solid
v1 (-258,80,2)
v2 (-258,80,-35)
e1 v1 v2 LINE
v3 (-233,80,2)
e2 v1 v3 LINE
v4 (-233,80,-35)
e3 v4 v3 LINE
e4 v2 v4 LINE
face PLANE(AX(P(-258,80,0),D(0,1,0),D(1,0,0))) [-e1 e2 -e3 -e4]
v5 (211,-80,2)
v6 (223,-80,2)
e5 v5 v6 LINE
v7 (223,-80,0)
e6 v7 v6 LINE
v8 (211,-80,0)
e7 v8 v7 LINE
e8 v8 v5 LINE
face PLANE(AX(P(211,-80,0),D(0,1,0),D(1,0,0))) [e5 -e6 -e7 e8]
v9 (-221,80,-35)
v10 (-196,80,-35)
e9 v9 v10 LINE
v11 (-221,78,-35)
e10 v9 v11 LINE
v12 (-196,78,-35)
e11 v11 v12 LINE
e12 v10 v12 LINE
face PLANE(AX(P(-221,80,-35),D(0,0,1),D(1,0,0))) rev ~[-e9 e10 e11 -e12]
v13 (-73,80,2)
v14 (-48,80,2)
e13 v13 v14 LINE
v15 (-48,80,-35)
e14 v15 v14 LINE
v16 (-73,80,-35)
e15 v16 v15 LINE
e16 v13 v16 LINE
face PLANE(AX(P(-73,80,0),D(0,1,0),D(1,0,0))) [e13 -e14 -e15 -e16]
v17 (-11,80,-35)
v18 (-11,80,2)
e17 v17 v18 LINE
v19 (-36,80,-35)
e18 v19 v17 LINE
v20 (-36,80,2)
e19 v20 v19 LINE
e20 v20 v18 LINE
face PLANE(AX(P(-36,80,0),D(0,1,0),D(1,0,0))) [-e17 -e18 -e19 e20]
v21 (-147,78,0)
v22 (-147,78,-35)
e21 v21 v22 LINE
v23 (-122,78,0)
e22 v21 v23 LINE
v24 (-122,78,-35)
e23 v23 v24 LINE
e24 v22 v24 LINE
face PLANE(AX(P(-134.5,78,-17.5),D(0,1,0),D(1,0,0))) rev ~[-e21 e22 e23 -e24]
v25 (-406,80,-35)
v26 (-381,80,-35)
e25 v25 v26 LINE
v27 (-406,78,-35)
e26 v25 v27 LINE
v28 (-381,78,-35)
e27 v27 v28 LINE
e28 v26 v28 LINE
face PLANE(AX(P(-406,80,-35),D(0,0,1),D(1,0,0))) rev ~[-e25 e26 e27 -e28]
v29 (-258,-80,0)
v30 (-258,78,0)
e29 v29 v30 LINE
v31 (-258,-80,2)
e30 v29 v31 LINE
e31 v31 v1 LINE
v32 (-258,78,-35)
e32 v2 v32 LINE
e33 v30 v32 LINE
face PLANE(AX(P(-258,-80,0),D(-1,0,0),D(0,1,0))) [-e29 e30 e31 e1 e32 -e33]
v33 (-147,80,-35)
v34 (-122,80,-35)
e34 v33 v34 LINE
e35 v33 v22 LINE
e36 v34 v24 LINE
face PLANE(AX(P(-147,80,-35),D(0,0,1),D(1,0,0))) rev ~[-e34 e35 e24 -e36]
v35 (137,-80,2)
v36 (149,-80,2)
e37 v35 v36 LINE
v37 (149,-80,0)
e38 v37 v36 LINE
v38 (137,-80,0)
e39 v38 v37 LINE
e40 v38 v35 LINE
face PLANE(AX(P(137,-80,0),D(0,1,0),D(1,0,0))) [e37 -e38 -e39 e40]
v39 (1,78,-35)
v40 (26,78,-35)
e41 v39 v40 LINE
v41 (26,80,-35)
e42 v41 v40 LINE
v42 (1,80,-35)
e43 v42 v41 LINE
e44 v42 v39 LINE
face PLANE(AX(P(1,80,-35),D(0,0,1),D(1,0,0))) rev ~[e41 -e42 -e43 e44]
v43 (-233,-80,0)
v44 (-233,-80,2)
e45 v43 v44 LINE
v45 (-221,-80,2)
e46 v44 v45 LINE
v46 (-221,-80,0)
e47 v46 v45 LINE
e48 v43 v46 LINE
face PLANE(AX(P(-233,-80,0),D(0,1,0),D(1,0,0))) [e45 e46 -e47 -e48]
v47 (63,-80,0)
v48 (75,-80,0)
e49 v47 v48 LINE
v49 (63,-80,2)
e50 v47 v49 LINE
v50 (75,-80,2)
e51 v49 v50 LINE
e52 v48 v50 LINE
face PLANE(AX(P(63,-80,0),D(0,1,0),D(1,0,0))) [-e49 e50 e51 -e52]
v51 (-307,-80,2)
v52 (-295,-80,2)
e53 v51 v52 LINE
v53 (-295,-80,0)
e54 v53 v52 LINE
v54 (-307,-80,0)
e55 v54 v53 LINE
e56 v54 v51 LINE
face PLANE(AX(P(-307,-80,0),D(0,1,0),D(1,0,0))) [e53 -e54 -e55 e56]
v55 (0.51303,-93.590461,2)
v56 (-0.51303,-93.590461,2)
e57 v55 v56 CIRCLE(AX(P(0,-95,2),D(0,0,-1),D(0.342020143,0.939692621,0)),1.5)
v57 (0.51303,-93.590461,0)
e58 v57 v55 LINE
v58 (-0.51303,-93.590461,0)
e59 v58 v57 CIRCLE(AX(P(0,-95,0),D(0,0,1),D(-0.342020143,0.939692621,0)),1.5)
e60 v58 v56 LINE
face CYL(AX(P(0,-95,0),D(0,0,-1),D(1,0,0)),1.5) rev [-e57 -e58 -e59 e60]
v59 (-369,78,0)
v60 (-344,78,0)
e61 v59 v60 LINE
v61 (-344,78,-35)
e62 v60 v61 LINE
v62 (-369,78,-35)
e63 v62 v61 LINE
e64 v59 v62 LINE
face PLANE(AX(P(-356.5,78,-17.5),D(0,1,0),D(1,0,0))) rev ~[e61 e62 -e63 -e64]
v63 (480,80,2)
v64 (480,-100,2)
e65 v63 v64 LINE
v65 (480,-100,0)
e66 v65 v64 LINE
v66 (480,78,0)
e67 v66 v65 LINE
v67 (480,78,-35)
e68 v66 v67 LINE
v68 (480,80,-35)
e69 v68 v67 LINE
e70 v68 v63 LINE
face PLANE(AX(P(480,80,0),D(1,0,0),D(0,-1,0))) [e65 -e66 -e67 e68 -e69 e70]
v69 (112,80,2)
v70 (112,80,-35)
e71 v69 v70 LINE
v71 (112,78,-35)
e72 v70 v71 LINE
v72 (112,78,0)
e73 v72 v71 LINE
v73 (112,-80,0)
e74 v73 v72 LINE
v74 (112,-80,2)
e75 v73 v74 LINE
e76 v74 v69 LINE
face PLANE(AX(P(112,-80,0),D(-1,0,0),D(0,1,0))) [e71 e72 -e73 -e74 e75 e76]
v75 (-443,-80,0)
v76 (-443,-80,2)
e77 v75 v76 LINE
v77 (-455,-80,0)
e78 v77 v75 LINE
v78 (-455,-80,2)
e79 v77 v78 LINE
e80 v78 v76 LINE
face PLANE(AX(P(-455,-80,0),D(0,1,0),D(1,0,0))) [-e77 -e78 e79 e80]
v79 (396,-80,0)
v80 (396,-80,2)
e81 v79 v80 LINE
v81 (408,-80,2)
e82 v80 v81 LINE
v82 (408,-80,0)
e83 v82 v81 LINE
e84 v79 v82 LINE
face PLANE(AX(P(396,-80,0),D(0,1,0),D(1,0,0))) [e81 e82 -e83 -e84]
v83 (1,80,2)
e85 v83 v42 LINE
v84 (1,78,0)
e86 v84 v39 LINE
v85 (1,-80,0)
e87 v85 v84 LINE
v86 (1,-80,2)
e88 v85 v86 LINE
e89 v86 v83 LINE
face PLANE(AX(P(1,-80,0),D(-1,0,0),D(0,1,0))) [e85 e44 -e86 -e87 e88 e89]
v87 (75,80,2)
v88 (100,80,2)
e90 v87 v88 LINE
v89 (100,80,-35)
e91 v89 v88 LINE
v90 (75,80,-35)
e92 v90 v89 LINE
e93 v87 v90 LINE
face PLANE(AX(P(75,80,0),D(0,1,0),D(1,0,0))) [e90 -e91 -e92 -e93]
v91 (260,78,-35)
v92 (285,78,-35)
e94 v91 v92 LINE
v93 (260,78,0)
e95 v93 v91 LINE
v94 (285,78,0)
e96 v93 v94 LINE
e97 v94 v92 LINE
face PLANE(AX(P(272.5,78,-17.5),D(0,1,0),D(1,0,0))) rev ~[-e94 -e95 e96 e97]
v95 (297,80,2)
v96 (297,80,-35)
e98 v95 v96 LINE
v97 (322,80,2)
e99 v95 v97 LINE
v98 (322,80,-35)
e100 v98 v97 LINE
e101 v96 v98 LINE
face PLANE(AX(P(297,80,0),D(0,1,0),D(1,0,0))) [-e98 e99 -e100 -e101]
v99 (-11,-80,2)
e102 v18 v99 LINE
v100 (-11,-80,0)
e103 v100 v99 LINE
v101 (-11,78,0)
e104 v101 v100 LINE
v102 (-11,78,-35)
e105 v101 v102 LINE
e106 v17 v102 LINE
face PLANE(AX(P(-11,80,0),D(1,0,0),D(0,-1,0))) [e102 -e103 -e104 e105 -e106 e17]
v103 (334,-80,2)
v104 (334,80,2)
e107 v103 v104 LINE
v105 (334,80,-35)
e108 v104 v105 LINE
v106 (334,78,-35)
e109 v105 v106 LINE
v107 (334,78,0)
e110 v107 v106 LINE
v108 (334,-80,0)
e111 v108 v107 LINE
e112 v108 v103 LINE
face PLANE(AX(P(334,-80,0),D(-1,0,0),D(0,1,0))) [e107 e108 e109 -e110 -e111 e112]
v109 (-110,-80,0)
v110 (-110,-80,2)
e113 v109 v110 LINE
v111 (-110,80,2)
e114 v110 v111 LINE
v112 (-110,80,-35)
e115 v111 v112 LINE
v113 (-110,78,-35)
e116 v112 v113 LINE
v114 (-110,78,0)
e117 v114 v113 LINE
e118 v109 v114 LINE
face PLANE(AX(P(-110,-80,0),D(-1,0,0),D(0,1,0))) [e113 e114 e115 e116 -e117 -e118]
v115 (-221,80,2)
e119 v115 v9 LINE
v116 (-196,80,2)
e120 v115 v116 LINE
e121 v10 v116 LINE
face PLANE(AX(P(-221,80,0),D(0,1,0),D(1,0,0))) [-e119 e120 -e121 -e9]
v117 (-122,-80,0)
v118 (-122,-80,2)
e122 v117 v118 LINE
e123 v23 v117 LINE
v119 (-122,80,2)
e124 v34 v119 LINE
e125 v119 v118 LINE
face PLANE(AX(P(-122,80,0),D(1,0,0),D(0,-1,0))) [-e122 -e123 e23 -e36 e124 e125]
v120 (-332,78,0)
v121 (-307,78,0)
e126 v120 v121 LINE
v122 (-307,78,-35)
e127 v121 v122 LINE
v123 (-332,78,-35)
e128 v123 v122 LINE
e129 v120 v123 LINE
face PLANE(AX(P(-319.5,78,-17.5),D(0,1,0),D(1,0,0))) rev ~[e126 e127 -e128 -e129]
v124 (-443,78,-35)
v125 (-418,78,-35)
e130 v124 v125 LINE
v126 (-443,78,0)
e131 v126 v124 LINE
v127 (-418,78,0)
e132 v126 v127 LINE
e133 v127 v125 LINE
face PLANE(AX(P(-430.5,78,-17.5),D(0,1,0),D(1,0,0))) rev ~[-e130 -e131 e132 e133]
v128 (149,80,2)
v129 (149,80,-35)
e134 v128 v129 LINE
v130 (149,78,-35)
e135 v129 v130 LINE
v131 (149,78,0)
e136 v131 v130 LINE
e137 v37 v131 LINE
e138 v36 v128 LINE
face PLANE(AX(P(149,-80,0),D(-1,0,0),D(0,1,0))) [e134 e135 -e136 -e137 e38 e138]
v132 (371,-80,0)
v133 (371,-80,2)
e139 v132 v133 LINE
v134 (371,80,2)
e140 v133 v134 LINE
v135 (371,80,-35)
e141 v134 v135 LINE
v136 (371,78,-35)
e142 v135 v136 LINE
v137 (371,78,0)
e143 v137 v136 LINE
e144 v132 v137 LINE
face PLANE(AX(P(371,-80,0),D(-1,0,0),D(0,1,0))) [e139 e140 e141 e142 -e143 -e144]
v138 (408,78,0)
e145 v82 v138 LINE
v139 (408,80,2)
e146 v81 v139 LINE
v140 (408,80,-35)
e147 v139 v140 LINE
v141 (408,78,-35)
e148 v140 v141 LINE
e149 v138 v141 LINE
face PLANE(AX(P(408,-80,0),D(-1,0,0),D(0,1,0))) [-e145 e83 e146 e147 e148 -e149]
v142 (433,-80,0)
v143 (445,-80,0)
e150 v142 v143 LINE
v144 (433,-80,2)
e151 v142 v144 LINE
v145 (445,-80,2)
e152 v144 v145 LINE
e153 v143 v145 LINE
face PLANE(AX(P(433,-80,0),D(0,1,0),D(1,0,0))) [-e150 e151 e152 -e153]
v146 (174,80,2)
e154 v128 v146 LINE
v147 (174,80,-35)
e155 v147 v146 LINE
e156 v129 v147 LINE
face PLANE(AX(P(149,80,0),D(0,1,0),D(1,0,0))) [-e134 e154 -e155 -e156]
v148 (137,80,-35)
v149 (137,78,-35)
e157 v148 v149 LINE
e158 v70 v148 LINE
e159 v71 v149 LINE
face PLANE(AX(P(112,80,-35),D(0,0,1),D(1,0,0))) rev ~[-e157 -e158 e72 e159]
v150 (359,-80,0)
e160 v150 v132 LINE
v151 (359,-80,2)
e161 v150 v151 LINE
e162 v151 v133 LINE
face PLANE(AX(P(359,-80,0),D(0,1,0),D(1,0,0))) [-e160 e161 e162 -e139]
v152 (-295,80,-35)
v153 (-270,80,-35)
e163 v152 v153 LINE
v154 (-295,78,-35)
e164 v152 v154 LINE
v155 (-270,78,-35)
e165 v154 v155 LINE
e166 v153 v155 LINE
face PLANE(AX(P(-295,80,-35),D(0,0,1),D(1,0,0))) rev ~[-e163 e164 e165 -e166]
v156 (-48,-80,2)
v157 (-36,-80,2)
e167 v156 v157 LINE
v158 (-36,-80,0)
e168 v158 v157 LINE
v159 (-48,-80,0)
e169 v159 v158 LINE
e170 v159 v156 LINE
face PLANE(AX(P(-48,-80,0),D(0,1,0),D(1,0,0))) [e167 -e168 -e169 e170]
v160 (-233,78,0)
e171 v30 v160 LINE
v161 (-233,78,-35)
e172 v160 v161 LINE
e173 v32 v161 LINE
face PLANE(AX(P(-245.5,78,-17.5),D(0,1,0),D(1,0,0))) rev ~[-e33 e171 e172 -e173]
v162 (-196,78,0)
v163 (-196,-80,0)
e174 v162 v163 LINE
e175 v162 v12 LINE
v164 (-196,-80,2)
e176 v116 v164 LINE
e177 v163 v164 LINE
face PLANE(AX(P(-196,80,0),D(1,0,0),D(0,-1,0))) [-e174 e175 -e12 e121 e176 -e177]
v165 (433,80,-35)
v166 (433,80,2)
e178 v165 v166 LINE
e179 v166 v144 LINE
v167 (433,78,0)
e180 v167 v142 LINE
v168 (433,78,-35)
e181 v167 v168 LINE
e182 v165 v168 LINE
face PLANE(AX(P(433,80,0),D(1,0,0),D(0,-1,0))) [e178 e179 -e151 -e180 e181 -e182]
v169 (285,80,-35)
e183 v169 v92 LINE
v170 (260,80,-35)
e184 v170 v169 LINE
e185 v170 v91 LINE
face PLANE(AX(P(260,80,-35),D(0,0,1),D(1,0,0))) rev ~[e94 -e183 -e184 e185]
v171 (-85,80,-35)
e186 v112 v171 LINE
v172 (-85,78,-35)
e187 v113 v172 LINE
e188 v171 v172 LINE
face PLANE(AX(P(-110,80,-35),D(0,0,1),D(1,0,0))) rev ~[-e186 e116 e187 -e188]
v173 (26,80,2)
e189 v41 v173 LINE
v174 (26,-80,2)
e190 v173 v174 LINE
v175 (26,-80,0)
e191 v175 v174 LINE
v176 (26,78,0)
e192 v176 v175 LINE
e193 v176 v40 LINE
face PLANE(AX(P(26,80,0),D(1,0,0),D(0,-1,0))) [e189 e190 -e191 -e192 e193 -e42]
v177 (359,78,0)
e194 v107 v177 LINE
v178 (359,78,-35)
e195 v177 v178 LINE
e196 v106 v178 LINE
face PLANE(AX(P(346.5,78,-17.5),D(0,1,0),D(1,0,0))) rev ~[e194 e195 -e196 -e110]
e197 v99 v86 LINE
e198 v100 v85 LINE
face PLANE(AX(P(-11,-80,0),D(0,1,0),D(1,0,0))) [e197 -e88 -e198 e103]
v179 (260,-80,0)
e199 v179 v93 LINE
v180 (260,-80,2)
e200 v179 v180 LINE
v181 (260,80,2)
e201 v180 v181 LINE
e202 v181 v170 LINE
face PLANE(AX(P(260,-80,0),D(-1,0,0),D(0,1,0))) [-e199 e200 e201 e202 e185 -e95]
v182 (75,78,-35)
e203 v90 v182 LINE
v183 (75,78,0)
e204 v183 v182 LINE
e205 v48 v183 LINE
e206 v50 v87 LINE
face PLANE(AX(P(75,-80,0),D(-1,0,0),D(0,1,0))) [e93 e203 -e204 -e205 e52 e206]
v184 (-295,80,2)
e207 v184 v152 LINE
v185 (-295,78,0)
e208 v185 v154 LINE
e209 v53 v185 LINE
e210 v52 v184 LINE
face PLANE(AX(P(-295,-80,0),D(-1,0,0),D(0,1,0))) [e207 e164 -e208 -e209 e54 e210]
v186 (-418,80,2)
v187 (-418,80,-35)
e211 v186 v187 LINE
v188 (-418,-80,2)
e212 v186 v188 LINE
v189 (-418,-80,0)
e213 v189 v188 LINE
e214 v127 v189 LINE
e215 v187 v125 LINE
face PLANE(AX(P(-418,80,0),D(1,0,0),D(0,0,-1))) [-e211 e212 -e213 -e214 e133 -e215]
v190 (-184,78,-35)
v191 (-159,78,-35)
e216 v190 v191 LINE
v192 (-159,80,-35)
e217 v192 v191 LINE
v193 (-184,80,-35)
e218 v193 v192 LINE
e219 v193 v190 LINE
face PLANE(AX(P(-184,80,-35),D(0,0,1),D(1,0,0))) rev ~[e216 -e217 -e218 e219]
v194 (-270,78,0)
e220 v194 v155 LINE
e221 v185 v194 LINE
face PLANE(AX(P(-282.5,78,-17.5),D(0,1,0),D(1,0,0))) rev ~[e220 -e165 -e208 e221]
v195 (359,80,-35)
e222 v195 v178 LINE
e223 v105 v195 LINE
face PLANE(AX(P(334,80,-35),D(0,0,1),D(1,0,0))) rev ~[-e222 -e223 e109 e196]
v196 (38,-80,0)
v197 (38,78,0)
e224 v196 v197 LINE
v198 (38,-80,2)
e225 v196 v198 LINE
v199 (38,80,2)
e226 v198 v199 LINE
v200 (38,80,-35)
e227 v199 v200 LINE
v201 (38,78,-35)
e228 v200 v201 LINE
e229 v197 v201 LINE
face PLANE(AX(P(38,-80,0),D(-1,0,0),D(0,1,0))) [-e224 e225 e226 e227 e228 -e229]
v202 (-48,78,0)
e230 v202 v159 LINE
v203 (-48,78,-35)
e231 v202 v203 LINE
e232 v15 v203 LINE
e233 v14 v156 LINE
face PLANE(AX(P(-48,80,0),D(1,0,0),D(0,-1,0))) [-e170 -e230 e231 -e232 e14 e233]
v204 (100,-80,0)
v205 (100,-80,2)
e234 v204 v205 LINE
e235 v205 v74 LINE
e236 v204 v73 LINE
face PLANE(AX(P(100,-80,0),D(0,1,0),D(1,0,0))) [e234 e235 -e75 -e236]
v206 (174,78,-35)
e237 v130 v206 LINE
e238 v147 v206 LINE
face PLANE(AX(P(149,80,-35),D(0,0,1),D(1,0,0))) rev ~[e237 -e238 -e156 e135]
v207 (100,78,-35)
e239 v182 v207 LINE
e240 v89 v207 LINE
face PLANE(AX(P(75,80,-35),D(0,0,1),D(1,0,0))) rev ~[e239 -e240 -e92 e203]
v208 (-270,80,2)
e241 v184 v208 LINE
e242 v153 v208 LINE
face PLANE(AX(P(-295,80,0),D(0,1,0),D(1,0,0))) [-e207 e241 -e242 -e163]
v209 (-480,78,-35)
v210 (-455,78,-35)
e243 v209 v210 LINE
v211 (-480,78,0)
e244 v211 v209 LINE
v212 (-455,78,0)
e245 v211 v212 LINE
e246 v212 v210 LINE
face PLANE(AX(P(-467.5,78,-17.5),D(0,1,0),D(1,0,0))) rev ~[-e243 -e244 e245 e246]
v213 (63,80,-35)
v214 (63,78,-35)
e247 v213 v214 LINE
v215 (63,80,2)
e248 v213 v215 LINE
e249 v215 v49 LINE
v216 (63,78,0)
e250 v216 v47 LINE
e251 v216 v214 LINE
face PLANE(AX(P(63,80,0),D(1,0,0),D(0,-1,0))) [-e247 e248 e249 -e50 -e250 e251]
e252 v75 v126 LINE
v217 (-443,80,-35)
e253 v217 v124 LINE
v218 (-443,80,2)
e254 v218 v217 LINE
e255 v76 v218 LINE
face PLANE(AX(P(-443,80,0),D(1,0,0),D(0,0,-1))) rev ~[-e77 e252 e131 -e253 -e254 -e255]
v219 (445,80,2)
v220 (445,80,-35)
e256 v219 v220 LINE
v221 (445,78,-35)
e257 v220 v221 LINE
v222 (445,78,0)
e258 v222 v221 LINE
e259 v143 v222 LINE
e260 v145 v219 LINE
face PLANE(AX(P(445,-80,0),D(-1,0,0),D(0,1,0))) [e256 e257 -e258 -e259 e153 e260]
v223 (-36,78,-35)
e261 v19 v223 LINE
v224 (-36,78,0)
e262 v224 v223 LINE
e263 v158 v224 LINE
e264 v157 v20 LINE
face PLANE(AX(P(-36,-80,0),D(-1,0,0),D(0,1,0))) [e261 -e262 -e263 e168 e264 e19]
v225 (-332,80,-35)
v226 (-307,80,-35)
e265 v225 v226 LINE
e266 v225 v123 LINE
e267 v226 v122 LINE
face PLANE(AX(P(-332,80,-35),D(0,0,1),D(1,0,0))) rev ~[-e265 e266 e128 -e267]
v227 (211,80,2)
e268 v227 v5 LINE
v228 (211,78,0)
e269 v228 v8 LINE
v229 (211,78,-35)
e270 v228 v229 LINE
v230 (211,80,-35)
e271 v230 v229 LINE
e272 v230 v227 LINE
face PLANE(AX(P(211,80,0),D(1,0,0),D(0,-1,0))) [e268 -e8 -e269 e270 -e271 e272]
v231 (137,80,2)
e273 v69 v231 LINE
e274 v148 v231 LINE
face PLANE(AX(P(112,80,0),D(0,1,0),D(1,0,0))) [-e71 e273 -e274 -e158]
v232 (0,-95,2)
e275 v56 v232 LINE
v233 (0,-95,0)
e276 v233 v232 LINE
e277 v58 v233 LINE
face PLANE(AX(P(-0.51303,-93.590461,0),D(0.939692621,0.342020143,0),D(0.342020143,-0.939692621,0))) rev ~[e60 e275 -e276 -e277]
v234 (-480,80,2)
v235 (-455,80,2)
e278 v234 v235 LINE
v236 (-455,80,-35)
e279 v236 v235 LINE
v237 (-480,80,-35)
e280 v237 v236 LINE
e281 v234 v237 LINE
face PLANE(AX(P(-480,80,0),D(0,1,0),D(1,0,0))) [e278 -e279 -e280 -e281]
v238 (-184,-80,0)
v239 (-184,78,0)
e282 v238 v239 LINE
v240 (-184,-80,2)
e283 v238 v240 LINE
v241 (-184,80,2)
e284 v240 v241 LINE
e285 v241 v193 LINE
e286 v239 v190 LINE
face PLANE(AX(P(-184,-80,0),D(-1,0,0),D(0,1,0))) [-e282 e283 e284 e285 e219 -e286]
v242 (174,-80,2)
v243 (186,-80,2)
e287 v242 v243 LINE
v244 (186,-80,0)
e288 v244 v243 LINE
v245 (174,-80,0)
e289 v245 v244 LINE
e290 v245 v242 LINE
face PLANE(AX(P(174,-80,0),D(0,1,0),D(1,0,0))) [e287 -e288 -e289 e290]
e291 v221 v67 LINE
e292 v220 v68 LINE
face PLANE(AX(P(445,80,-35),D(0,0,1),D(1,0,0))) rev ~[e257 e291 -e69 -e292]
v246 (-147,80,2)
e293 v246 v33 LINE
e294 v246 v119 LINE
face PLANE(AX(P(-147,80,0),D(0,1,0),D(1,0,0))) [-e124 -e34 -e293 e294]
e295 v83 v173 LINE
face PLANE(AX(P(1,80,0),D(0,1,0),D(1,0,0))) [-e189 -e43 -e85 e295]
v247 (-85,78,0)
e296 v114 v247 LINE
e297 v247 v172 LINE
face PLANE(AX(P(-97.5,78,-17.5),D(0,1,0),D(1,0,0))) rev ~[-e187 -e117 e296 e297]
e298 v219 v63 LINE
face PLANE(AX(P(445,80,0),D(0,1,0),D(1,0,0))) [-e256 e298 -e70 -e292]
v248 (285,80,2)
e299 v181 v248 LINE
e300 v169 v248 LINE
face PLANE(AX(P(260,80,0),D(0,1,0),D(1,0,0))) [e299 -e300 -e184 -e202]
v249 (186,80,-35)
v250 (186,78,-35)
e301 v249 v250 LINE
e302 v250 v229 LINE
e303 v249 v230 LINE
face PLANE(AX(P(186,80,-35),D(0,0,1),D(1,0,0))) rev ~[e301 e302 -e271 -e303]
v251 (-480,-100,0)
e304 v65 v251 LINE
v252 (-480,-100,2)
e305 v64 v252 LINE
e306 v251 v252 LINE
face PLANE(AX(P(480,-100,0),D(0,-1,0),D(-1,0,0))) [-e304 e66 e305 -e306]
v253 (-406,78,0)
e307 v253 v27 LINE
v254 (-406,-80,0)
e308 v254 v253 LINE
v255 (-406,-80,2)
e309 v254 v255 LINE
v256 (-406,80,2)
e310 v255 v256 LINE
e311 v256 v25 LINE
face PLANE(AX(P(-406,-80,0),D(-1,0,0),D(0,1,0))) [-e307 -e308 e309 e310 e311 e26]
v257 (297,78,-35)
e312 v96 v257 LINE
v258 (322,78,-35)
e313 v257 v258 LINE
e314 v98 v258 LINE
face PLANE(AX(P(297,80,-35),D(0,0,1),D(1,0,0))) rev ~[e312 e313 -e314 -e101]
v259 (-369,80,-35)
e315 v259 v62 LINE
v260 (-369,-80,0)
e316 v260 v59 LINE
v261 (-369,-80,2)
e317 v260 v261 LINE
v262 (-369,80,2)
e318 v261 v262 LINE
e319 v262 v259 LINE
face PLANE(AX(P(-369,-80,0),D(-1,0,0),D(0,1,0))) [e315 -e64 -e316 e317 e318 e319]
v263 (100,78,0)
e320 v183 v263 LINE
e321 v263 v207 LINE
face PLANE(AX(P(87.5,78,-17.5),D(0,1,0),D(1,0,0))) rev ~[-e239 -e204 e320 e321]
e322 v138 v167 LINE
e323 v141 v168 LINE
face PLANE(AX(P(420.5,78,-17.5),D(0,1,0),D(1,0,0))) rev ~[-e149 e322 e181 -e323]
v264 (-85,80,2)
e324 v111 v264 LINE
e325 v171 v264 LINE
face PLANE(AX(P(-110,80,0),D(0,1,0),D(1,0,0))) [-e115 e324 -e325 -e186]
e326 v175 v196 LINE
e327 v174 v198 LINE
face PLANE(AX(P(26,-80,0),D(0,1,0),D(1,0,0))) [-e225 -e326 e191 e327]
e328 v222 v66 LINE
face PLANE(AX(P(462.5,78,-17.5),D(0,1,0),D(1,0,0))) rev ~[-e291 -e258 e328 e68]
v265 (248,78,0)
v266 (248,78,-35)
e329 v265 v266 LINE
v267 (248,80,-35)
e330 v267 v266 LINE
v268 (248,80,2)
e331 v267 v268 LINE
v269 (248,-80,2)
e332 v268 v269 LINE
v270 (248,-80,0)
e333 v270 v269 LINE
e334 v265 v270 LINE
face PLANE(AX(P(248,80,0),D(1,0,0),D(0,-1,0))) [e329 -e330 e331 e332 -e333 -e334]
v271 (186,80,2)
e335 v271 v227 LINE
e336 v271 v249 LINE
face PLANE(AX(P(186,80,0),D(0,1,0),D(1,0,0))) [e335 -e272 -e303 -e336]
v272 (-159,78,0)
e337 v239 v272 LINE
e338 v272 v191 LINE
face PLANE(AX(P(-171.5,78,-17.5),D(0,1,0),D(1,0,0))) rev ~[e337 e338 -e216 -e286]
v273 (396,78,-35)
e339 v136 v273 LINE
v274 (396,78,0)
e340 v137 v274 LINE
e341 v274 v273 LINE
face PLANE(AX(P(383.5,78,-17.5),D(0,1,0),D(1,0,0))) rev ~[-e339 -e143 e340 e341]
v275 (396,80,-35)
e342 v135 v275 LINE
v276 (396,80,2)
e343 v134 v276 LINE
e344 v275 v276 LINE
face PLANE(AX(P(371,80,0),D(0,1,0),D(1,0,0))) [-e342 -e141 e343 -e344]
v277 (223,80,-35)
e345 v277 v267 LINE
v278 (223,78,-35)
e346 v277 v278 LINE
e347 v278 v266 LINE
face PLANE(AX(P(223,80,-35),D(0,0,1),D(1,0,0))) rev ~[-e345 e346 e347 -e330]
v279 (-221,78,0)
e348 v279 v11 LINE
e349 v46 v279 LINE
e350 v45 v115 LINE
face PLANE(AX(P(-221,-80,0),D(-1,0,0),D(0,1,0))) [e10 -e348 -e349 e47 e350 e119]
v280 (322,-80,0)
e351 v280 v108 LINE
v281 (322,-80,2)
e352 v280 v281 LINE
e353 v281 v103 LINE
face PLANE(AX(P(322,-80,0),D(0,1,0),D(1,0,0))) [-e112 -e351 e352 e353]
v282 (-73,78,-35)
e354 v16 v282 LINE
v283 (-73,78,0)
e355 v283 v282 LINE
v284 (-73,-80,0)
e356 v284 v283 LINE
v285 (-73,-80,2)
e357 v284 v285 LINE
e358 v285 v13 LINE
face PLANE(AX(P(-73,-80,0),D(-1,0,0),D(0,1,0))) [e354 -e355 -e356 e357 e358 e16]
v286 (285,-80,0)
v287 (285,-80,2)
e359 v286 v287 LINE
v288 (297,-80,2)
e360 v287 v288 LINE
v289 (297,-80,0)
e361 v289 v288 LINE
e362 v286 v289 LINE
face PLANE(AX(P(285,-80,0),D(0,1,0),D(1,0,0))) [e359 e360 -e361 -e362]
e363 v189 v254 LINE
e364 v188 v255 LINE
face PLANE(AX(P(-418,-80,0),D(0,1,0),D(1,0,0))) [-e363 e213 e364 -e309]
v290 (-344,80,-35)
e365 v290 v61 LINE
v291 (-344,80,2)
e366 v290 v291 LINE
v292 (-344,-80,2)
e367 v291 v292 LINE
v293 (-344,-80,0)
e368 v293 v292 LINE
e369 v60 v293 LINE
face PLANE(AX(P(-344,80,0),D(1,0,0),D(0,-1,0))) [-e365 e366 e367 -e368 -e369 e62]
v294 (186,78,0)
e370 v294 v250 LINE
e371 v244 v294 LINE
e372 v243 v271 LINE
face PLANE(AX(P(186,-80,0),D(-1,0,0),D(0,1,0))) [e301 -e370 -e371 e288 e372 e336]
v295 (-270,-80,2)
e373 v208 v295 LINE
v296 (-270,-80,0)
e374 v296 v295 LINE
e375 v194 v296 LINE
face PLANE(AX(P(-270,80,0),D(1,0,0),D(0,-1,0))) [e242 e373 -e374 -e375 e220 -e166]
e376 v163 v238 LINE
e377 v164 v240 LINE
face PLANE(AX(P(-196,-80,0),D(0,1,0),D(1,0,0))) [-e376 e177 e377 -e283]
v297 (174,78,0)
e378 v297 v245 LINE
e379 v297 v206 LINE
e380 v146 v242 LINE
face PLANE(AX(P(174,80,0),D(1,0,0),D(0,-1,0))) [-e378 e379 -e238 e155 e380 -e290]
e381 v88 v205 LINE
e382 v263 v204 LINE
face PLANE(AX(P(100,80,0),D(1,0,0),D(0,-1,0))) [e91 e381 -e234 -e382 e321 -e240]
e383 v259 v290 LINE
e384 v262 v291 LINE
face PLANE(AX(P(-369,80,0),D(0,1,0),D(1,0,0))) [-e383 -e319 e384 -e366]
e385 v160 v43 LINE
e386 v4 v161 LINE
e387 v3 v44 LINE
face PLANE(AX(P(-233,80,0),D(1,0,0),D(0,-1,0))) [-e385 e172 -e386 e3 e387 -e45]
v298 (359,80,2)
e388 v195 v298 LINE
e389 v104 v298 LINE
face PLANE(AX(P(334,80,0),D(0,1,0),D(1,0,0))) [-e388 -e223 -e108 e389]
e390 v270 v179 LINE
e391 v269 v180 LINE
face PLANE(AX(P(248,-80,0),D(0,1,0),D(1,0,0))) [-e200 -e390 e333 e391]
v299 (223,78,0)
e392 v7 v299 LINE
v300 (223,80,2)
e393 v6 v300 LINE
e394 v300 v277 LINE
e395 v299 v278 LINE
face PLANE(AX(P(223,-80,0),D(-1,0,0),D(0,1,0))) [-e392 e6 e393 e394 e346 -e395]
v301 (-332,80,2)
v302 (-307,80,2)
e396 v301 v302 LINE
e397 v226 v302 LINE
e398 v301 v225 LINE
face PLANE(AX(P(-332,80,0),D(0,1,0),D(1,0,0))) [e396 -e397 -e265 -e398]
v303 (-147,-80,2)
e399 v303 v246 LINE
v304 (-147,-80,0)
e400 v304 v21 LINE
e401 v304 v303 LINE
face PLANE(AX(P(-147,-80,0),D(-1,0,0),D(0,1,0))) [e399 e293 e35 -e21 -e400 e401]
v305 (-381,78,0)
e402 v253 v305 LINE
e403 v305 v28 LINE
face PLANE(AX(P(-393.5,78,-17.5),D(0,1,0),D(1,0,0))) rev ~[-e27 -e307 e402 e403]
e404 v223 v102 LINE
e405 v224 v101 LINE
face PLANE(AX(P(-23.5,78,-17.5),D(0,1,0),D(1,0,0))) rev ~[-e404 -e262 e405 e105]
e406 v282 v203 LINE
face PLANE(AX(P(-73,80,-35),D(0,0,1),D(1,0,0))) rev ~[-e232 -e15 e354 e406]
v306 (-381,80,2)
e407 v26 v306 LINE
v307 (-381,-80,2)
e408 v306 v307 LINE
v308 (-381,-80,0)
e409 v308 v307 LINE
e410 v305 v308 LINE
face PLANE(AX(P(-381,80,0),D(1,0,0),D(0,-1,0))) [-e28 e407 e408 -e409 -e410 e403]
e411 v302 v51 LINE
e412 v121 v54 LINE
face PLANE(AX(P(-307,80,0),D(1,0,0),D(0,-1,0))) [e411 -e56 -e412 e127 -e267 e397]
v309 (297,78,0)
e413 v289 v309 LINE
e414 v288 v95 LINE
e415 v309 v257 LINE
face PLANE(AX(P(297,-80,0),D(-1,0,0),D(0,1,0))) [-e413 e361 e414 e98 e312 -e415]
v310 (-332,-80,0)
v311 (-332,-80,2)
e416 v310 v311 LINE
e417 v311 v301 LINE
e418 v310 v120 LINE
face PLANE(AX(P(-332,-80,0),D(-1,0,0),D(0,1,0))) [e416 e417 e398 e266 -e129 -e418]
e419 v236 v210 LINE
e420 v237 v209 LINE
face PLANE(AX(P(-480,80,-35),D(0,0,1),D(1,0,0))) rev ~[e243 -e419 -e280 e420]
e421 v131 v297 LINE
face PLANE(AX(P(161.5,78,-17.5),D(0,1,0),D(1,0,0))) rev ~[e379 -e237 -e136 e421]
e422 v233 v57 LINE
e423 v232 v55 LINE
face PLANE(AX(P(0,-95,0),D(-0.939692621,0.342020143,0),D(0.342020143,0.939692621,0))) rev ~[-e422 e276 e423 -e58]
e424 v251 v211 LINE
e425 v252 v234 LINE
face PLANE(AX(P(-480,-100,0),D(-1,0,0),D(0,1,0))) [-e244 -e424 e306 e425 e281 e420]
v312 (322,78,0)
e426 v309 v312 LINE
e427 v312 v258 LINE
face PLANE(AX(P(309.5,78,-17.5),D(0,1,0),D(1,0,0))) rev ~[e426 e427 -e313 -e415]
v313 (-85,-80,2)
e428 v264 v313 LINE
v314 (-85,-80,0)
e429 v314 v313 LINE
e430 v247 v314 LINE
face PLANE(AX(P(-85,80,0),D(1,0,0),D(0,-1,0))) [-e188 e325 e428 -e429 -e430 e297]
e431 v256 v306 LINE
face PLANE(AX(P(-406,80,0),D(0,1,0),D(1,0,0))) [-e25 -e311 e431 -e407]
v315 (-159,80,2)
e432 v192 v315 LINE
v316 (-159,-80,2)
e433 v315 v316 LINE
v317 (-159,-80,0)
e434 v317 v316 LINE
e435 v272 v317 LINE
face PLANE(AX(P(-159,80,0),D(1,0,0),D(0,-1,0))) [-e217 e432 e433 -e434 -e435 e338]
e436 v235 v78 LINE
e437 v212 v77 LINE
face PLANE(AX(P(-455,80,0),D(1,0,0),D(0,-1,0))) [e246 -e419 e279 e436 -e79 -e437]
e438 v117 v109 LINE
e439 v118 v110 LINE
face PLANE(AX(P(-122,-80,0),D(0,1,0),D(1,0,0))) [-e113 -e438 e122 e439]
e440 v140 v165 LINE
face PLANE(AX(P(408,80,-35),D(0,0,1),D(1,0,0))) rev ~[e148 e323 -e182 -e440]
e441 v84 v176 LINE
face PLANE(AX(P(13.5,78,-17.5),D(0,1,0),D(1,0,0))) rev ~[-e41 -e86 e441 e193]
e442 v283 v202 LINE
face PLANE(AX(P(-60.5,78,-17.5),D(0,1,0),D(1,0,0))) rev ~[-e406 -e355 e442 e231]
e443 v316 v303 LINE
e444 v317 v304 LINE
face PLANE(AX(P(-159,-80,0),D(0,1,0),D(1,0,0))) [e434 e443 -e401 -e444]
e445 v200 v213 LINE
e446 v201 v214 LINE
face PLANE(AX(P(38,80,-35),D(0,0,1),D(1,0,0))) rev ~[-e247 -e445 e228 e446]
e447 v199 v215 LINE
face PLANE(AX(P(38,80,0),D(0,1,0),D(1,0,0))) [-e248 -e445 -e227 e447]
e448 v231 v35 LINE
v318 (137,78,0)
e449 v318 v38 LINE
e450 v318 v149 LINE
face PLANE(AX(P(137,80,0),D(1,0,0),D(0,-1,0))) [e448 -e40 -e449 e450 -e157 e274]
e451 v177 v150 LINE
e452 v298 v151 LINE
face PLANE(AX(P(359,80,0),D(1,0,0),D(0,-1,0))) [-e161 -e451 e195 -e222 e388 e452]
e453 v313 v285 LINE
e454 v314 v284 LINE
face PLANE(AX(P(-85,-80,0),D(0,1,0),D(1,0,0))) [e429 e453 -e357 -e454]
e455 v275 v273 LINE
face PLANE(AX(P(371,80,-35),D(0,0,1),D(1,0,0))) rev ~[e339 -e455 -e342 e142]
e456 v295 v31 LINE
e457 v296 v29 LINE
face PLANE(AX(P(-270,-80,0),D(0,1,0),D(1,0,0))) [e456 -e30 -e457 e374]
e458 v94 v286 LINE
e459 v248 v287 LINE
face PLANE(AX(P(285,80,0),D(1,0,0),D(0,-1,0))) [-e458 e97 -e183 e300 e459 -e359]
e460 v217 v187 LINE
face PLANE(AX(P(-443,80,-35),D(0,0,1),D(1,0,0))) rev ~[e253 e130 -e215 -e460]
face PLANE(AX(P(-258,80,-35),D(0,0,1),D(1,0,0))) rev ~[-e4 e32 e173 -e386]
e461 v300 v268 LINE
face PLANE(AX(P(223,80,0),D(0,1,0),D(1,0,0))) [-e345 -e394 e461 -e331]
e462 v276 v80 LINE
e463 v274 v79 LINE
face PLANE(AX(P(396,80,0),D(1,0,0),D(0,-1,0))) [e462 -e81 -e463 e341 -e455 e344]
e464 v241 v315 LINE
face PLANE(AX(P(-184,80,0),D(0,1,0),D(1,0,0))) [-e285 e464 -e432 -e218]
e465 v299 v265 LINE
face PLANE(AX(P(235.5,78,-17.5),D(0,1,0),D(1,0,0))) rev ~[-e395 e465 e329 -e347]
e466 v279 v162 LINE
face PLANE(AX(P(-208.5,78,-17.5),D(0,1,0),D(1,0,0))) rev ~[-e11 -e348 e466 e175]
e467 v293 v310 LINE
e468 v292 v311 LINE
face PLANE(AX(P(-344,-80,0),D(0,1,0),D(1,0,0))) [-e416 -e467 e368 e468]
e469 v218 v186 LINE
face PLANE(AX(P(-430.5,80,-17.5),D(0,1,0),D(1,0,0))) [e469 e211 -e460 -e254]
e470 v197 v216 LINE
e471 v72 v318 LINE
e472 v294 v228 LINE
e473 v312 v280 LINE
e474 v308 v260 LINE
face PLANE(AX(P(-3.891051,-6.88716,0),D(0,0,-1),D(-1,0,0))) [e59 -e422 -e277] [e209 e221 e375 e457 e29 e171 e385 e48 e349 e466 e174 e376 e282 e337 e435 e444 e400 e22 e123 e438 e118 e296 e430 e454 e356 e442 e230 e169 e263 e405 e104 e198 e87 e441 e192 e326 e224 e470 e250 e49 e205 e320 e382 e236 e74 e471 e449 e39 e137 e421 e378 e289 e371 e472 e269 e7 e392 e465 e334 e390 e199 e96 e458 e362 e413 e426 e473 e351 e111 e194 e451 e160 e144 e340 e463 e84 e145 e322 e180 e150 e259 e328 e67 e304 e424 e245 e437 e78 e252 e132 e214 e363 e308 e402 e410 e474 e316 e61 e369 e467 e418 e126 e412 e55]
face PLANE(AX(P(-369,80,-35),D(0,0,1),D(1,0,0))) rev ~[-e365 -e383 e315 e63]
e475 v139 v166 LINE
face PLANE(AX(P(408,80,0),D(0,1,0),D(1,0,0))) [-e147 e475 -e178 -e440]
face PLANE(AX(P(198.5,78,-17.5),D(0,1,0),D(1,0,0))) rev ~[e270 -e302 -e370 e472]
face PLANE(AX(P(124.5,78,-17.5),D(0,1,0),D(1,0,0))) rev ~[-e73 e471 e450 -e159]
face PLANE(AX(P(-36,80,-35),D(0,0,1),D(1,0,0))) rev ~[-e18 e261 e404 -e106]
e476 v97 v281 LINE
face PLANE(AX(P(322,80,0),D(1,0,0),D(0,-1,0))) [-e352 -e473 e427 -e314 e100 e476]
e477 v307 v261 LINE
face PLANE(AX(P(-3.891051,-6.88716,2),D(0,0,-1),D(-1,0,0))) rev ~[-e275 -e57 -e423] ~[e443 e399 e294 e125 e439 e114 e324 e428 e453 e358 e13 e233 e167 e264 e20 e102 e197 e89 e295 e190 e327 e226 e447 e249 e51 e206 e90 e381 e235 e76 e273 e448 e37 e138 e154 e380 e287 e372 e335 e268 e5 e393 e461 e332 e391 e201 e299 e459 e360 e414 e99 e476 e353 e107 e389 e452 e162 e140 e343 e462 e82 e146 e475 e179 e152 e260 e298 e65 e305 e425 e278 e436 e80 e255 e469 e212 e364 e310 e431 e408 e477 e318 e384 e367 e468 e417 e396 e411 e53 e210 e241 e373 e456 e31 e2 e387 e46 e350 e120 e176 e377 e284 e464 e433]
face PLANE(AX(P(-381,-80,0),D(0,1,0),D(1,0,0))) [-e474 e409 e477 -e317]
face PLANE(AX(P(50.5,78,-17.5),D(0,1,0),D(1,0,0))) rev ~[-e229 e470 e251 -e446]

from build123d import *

# Parameters (mm, degrees)
SKETCH1_R           = 1.5
BOSS_EXTRUDE1_DEPTH = 2
SKETCH4_W           = 25
SKETCH4_H           = 35
SKETCH4_W_2         = 35
BOSS_EXTRUDE4_DEPTH = 2
BOSS_EXTRUDE5_START = -2
BOSS_EXTRUDE5_DEPTH = 2


with BuildPart() as part:
    # Sketch1 → Boss-Extrude1 (new body)
    with BuildSketch(Plane.XY):
        Polygon((-480, 80), (-455, 80), (-455, -80), (-443, -80), (-443, 80), (-418, 80), (-418, -80), (-406, -80), (-406, 80), (-381, 80), (-381, -80), (-369, -80), (-369, 80), (-344, 80), (-344, -80), (-332, -80), (-332, 80), (-307, 80), (-307, -80), (-295, -80), (-295, 80), (-270, 80), (-270, -80), (-258, -80), (-258, 80), (-233, 80), (-233, -80), (-221, -80), (-221, 80), (-196, 80), (-196, -80), (-184, -80), (-184, 80), (-159, 80), (-159, -80), (-147, -80), (-147, 80), (-122, 80), (-122, -80), (-110, -80), (-110, 80), (-85, 80), (-85, -80), (-73, -80), (-73, 80), (-48, 80), (-48, -80), (-36, -80), (-36, 80), (-11, 80), (-11, -80), (1, -80), (1, 80), (26, 80), (26, -80), (38, -80), (38, 80), (63, 80), (63, -80), (75, -80), (75, 80), (100, 80), (100, -80), (112, -80), (112, 80), (137, 80), (137, -80), (149, -80), (149, 80), (174, 80), (174, -80), (186, -80), (186, 80), (211, 80), (211, -80), (223, -80), (223, 80), (248, 80), (248, -80), (260, -80), (260, 80), (285, 80), (285, -80), (297, -80), (297, 80), (322, 80), (322, -80), (334, -80), (334, 80), (359, 80), (359, -80), (371, -80), (371, 80), (396, 80), (396, -80), (408, -80), (408, 80), (433, 80), (433, -80), (445, -80), (445, 80), (480, 80), (480, -100), (-480, -100), align=None)
        with Locations((0, -95)):
            Circle(SKETCH1_R, mode=Mode.SUBTRACT)
    extrude(amount=BOSS_EXTRUDE1_DEPTH)

    # Sketch4 → Boss-Extrude4 (add)
    with BuildSketch(Plane(origin=(0, 80, 0), x_dir=(1, 0, 0), z_dir=(0, 1, 0))):
        with Locations((-430.5, 17.5)):
            Rectangle(SKETCH4_W, SKETCH4_H)
        with Locations((-467.5, 17.5)):
            Rectangle(SKETCH4_W, SKETCH4_H)
        with Locations((-393.5, 17.5)):
            Rectangle(SKETCH4_W, SKETCH4_H)
        with Locations((-356.5, 17.5)):
            Rectangle(SKETCH4_W, SKETCH4_H)
        with Locations((-319.5, 17.5)):
            Rectangle(SKETCH4_W, SKETCH4_H)
        with Locations((-282.5, 17.5)):
            Rectangle(SKETCH4_W, SKETCH4_H)
        with Locations((-245.5, 17.5)):
            Rectangle(SKETCH4_W, SKETCH4_H)
        with Locations((-208.5, 17.5)):
            Rectangle(SKETCH4_W, SKETCH4_H)
        with Locations((-171.5, 17.5)):
            Rectangle(SKETCH4_W, SKETCH4_H)
        with Locations((-134.5, 17.5)):
            Rectangle(SKETCH4_W, SKETCH4_H)
        with Locations((-97.5, 17.5)):
            Rectangle(SKETCH4_W, SKETCH4_H)
        with Locations((-60.5, 17.5)):
            Rectangle(SKETCH4_W, SKETCH4_H)
        with Locations((-23.5, 17.5)):
            Rectangle(SKETCH4_W, SKETCH4_H)
        with Locations((13.5, 17.5)):
            Rectangle(SKETCH4_W, SKETCH4_H)
        with Locations((50.5, 17.5)):
            Rectangle(SKETCH4_W, SKETCH4_H)
        with Locations((87.5, 17.5)):
            Rectangle(SKETCH4_W, SKETCH4_H)
        with Locations((124.5, 17.5)):
            Rectangle(SKETCH4_W, SKETCH4_H)
        with Locations((161.5, 17.5)):
            Rectangle(SKETCH4_W, SKETCH4_H)
        with Locations((198.5, 17.5)):
            Rectangle(SKETCH4_W, SKETCH4_H)
        with Locations((235.5, 17.5)):
            Rectangle(SKETCH4_W, SKETCH4_H)
        with Locations((272.5, 17.5)):
            Rectangle(SKETCH4_W, SKETCH4_H)
        with Locations((309.5, 17.5)):
            Rectangle(SKETCH4_W, SKETCH4_H)
        with Locations((346.5, 17.5)):
            Rectangle(SKETCH4_W, SKETCH4_H)
        with Locations((383.5, 17.5)):
            Rectangle(SKETCH4_W, SKETCH4_H)
        with Locations((420.5, 17.5)):
            Rectangle(SKETCH4_W, SKETCH4_H)
        with Locations((462.5, 17.5)):
            Rectangle(SKETCH4_W_2, SKETCH4_H)
    extrude(amount=-BOSS_EXTRUDE4_DEPTH)

    # Sketch5 → Boss-Extrude5 (add)
    with BuildSketch(Plane.XY.offset(2).offset(BOSS_EXTRUDE5_START)):
        with BuildLine():
            Line((0, -95), (0.513030215, -93.590461069))
            ThreePointArc((0.513030215, -93.590461069), (0, -93.5), (-0.513030215, -93.590461069))
            Line((-0.513030215, -93.590461069), (0, -95))
        make_face()
    extrude(amount=BOSS_EXTRUDE5_DEPTH)


solid = part.part
